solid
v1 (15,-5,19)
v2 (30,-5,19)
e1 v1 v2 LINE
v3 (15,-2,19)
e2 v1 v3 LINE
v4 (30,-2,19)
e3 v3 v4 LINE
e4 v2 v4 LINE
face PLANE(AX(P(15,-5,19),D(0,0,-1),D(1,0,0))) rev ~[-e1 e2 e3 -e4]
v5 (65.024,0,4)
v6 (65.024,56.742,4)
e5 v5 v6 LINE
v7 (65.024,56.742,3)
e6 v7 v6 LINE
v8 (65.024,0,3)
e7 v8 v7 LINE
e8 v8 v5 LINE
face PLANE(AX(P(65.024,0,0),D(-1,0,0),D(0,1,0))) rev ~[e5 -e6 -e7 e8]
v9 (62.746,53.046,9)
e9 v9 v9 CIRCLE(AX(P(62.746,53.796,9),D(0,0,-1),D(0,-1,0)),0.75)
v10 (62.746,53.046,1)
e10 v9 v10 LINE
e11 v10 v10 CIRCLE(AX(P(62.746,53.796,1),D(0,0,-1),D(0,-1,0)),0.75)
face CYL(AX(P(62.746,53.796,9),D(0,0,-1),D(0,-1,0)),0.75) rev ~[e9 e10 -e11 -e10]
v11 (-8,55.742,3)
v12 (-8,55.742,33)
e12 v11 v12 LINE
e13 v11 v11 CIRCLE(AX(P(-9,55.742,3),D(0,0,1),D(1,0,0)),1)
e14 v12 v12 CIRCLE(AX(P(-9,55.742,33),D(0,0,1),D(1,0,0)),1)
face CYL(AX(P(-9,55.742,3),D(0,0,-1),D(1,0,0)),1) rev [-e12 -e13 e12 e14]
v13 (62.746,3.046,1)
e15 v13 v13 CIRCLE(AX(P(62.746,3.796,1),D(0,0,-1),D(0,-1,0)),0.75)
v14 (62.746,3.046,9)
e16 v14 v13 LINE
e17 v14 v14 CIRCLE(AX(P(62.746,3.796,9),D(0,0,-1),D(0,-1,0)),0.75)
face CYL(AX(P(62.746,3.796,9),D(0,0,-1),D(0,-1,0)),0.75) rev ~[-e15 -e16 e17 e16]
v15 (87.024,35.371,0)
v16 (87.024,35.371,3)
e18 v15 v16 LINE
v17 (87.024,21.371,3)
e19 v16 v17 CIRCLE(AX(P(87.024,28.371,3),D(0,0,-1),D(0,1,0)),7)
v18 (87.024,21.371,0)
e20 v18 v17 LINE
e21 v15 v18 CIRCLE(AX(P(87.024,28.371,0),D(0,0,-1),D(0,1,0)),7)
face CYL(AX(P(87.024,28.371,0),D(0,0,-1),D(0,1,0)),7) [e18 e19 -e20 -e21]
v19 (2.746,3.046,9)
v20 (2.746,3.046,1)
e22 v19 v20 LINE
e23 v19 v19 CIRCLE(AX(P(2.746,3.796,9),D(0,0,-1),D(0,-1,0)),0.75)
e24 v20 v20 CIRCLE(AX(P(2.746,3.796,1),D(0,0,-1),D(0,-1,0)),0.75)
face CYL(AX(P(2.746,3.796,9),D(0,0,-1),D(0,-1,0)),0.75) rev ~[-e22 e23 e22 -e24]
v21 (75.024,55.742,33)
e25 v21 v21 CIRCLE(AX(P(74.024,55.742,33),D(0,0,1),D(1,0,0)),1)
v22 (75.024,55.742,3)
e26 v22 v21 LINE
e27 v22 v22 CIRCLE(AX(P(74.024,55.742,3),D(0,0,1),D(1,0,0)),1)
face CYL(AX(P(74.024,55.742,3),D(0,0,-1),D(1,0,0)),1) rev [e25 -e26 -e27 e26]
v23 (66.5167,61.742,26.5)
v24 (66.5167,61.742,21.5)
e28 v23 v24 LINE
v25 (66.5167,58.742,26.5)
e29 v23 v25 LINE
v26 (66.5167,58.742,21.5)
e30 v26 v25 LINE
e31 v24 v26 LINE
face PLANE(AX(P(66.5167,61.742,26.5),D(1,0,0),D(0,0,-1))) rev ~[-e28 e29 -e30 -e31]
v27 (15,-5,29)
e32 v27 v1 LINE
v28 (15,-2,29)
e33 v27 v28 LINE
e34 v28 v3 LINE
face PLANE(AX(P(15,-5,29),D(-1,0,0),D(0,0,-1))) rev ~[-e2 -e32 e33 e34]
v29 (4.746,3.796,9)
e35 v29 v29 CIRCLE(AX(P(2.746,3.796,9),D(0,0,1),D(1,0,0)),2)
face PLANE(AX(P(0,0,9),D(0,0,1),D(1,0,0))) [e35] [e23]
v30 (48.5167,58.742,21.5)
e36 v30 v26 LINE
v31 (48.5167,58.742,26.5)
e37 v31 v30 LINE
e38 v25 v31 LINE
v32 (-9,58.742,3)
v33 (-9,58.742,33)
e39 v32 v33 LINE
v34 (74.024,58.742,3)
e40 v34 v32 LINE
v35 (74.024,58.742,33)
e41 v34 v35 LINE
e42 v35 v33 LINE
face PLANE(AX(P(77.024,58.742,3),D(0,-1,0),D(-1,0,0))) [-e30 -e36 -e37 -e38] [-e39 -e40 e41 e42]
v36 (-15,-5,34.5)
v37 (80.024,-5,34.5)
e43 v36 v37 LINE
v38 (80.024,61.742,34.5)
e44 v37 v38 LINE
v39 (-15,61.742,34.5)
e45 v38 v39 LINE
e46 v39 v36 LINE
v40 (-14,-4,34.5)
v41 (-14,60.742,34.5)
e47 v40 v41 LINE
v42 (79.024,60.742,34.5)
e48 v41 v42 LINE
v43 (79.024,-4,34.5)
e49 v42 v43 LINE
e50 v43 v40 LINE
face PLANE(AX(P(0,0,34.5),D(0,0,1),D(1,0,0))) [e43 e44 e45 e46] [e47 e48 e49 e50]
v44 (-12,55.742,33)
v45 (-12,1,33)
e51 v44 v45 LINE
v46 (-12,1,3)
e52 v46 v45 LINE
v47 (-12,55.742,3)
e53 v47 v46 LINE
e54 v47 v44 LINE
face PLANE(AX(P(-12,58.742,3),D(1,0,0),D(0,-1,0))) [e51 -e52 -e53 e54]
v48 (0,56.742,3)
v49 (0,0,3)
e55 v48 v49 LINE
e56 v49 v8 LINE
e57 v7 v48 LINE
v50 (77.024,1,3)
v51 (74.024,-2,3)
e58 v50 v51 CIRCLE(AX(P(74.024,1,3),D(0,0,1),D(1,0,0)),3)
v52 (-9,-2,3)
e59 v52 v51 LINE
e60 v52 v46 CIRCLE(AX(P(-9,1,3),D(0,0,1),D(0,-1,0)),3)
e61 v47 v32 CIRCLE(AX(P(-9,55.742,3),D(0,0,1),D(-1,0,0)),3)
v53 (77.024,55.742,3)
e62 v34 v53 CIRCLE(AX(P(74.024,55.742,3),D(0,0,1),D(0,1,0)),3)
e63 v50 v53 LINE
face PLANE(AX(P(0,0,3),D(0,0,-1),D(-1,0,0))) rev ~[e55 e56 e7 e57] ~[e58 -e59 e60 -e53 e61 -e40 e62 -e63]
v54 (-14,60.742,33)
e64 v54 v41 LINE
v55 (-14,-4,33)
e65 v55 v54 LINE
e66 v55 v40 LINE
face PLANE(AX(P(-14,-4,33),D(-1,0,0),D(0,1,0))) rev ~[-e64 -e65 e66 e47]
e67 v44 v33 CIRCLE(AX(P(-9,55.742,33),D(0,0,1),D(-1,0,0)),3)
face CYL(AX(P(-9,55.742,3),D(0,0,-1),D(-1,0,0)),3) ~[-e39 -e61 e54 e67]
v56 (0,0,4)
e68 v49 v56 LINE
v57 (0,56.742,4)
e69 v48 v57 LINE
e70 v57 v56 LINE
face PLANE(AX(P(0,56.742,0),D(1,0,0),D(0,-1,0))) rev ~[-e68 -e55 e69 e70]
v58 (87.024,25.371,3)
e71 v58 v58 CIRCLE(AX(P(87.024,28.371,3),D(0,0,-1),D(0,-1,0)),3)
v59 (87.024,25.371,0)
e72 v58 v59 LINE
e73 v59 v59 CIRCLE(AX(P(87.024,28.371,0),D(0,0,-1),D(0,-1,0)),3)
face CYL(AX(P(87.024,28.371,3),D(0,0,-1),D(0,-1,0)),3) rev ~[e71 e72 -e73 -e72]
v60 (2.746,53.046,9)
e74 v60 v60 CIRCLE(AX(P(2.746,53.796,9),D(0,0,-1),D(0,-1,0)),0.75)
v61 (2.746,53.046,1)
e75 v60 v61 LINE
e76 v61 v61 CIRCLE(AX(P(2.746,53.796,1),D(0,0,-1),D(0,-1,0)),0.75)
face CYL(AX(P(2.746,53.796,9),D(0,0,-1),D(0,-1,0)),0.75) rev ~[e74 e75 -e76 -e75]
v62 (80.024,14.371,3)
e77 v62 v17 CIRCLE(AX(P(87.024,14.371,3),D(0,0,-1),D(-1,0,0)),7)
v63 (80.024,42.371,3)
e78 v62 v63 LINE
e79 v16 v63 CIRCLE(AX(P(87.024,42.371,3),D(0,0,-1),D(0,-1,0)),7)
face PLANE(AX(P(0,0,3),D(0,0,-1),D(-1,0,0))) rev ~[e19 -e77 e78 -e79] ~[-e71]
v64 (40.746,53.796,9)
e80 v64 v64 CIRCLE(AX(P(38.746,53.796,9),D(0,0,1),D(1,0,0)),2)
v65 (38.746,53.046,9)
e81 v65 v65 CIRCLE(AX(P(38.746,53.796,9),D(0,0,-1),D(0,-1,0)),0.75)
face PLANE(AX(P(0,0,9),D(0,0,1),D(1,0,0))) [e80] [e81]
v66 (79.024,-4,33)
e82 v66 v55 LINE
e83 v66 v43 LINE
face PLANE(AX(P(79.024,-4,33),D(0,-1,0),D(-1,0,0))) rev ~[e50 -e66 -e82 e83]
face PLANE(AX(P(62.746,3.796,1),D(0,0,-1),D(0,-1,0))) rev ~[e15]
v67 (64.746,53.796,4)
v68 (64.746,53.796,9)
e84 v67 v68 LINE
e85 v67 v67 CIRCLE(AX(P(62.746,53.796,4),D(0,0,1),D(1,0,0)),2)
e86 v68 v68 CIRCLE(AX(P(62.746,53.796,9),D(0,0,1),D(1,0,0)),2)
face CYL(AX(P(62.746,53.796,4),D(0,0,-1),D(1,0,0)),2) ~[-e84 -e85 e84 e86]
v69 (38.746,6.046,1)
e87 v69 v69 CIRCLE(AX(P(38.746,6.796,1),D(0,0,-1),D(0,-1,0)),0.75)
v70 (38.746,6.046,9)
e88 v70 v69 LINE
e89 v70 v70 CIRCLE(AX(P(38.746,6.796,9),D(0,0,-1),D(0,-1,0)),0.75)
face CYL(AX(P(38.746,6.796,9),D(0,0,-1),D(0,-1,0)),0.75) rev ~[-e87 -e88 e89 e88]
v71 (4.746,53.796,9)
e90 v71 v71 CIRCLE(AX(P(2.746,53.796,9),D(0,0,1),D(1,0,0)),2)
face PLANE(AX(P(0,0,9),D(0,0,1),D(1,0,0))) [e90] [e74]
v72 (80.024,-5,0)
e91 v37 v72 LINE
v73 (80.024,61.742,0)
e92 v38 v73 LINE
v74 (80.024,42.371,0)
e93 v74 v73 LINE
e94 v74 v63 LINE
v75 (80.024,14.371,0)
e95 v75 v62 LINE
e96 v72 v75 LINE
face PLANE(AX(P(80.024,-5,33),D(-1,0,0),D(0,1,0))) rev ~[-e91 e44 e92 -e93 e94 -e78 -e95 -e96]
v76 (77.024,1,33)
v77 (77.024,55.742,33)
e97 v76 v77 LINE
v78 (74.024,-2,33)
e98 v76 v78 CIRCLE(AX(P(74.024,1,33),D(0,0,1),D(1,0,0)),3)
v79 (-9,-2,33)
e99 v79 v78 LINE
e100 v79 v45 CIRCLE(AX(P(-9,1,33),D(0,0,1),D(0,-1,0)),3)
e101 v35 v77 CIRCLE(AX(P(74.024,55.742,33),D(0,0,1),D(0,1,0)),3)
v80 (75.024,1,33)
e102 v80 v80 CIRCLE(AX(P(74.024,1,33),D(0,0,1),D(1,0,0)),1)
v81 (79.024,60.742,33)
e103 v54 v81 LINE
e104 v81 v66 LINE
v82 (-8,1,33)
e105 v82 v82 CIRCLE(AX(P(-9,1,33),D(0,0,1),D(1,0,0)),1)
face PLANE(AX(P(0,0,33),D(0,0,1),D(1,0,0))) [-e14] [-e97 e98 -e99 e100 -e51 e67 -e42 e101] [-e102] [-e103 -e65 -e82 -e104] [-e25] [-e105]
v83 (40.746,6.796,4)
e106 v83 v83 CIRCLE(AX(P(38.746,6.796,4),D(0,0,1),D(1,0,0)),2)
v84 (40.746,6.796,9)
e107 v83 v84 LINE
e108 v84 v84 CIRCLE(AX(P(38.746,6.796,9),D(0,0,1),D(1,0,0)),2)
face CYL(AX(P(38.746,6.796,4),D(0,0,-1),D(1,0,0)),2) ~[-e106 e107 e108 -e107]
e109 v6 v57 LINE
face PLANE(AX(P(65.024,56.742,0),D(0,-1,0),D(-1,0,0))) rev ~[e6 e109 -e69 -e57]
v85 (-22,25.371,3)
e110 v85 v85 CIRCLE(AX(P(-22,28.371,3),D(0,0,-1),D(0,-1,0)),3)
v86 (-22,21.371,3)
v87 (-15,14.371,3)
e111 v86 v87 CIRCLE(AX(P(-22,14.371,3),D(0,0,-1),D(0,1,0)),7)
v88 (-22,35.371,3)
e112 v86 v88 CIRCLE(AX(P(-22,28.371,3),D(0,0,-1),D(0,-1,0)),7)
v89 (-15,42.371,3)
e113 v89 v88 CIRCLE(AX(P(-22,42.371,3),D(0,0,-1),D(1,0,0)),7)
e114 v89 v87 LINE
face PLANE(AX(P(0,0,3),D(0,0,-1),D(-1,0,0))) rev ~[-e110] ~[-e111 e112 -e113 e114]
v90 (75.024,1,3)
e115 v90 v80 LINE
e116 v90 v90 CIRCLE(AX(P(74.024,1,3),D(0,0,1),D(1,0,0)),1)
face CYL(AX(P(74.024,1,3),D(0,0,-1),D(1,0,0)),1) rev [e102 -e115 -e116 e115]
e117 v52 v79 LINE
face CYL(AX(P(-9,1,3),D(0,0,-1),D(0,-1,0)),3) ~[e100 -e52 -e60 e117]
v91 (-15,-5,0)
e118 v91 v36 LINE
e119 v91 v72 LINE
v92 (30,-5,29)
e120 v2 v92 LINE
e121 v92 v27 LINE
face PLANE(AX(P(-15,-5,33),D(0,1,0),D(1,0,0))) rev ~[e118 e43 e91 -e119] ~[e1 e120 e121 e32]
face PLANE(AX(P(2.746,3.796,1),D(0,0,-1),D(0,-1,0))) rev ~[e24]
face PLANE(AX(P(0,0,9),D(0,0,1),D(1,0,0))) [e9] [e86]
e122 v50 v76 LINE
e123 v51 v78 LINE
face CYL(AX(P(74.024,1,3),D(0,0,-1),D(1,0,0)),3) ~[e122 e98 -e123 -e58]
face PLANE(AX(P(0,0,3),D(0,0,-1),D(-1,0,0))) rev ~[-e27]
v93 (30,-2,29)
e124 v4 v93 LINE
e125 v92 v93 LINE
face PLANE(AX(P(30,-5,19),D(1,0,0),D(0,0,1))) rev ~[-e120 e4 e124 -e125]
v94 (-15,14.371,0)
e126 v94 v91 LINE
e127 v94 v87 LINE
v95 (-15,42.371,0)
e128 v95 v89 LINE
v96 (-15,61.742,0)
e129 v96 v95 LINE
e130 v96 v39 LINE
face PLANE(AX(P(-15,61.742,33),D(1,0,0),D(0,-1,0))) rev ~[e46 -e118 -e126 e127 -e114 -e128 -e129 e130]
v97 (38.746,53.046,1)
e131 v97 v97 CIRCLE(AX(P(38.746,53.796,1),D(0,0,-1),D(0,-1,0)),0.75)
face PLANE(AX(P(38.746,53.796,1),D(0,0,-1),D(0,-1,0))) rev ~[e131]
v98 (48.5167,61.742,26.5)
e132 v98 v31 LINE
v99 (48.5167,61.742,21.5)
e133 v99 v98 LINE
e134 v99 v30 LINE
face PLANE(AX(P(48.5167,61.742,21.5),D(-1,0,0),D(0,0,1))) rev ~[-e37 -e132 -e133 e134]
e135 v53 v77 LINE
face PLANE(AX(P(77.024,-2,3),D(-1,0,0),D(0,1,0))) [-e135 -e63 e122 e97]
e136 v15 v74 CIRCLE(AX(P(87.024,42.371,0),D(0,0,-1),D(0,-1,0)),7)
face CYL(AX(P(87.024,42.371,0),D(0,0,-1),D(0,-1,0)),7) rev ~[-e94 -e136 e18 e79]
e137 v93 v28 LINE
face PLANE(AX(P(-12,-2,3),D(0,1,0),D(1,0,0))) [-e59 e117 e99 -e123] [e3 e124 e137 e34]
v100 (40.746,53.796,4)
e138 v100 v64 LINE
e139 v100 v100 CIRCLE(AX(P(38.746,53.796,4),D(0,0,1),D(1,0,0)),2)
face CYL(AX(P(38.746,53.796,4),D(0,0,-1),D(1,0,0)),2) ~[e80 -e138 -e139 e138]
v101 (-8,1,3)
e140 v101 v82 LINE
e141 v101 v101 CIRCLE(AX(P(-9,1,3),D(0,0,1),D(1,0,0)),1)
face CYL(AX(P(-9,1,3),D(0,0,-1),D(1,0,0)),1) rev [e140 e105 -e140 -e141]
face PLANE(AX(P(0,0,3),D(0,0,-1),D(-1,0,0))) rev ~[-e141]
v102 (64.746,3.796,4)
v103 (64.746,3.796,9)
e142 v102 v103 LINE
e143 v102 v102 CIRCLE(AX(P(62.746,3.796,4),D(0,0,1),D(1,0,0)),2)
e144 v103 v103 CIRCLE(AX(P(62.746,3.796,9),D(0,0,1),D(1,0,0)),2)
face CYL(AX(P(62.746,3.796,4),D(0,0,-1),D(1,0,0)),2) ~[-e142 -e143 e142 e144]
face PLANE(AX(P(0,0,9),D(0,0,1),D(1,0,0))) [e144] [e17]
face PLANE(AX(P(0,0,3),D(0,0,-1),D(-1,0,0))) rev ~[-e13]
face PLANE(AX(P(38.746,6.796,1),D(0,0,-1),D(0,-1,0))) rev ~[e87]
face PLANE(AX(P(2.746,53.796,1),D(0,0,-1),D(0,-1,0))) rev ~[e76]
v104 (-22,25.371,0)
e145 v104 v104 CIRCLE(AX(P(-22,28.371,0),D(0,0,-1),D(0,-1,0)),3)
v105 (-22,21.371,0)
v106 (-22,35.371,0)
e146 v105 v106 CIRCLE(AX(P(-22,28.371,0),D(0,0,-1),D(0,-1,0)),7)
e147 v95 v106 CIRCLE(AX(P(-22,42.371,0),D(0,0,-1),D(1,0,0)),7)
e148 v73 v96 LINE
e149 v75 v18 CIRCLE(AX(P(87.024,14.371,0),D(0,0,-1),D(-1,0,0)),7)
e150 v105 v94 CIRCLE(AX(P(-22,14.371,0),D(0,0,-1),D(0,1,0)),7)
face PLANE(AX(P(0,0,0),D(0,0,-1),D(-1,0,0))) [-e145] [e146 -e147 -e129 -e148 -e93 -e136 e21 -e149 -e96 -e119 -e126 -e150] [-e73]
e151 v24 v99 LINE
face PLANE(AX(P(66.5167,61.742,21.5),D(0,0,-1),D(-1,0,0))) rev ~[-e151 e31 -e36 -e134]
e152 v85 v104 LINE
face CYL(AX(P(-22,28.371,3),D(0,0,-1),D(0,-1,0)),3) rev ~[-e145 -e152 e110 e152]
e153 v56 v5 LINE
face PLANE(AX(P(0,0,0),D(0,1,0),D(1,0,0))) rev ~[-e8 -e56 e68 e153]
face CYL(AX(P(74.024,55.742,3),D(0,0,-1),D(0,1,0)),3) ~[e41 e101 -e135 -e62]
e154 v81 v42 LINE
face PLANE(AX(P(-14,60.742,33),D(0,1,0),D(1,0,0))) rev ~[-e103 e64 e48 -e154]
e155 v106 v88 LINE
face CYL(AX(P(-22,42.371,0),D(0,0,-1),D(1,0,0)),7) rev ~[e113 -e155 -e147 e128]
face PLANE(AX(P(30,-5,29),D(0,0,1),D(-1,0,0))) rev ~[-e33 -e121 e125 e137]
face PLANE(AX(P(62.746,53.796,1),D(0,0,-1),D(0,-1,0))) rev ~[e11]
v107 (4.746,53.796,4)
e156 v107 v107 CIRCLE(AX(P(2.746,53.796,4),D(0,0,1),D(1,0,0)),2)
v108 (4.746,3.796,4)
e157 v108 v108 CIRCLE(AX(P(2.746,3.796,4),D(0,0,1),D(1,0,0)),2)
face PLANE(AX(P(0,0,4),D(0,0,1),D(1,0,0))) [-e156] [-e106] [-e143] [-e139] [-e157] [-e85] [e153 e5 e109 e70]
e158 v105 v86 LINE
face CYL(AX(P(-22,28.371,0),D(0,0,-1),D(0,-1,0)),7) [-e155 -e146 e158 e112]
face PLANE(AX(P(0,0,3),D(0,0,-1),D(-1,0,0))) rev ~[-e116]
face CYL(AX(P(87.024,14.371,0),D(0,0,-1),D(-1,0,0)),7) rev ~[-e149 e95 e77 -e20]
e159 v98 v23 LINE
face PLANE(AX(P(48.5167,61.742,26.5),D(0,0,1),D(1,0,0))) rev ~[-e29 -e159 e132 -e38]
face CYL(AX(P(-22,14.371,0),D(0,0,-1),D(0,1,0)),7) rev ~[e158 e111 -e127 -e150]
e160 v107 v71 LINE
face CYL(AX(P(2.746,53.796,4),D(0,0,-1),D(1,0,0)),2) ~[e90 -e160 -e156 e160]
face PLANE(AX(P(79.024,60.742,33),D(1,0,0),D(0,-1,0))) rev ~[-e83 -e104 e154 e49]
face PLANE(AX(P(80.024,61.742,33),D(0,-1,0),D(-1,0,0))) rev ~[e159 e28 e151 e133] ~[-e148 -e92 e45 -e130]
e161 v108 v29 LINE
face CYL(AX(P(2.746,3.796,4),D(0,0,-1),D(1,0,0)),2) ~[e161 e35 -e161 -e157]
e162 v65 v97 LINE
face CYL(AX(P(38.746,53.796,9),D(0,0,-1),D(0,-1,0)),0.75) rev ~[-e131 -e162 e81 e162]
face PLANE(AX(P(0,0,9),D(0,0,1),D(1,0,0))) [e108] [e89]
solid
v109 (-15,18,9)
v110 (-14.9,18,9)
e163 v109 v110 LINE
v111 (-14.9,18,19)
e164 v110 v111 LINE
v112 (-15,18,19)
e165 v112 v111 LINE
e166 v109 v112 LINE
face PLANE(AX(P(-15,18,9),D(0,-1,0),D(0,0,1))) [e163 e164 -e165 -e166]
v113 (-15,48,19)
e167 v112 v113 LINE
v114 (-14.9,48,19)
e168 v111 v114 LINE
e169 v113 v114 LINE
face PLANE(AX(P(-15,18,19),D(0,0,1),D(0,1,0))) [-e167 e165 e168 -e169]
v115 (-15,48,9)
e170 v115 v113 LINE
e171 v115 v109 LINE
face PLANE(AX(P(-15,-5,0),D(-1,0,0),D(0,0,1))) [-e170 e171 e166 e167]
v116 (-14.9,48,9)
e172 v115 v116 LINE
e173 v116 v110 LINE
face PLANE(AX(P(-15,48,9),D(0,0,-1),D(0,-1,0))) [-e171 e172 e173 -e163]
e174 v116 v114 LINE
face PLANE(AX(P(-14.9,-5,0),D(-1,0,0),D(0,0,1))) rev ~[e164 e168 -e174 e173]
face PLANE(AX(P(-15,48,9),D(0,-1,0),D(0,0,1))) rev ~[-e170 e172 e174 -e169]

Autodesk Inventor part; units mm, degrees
ref_plane "YZ Plane" through (0, 0, 0) normal (1, 0, 0) x (0, 1, 0)
ref_plane "XZ Plane" through (0, 0, 0) normal (0, 1, 0) x (-1, 0, 0)
ref_plane "XY Plane" through (0, 0, 0) normal (0, 0, 1) x (1, 0, 0)
sketch "Sketch1" plane through (0, 0, 0) normal (0, 0, 1) x (1, 0, 0)
  line L0 (0, 0) -> (65.024, 0)
  line L1 (65.024, 0) -> (65.024, 56.742)
  line L2 (65.024, 56.742) -> (0, 56.742)
  line L3 (0, 56.742) -> (0, 0)
  point P0 (2.746, 53.796)
  point P1 (62.746, 53.796)
  point P2 (62.746, 3.796)
  point P3 (2.746, 3.796)
  point P4 (38.746, 53.796)
  point P5 (38.746, 6.796)
  dimension "d0" = 56.742
  dimension "d1" = 65.024
  dimension "d2" = 53.796
  dimension "d3" = 2.746
  dimension "d4" = 62.746
  dimension "d5" = 3.796
  dimension "d6" = 38.746
  dimension "d7" = 6.796
  dimension "d8" = 53.796
  dimension "d9" = 38.746
extrude "Extrusion1" add sketch "Sketch1" along normal blind 4
sketch "Sketch2" plane through (0, 0, 4) normal (0, 0, 1) x (1, 0, 0)
  circle A0 centre (2.746, 53.796) radius 2
  circle A1 centre (62.746, 53.796) radius 2
  circle A2 centre (38.746, 53.796) radius 2
  circle A3 centre (38.746, 6.796) radius 2
  circle A4 centre (2.746, 3.796) radius 2
  circle A5 centre (62.746, 3.796) radius 2
  point P0 (0, 0)
  dimension "d12" = 4
  dimension "d13" = 4
  dimension "d14" = 4
  dimension "d15" = 4
  dimension "d16" = 4
  dimension "d17" = 4
extrude "Extrusion2" add sketch "Sketch2" along normal blind 5
sketch "Sketch3" plane through (2.746, 53.796, 9) normal (0, 0, 1) x (1, 0, 0)
  point P0 (-2.746, -53.796)
  point P1 (60, 0)
  point P2 (0, 0)
  point P3 (0, -50)
  point P4 (60, -50)
  point P5 (36, 0)
  point P6 (36, -47)
hole "Hole1" at (2.746, 53.796, 9) at (2.746, 3.796, 9) at (38.746, 53.796, 9) at (38.746, 6.796, 9) at (62.746, 53.796, 9) at (62.746, 3.796, 9) direction (0, 0, -1) diameter 1.5 depth 8
sketch "Sketch4" plane through (0, 0, 0) normal (0, 0, -1) x (-1, 0, 0)
  line L0 (-80.024, 61.742) -> (15, 61.742)
  line L1 (15, 61.742) -> (15, -5)
  line L2 (15, -5) -> (-80.024, -5)
  line L3 (-80.024, -5) -> (-80.024, 61.742)
  line L4 (-65.024, 0) -> (-65.024, 56.742) projected
  line L5 (-65.024, 0) -> (-65.024, 56.742) projected
  line L6 (0, 0) -> (-65.024, 0) projected
  line L7 (0, 56.742) -> (0, 0) projected
  line L8 (-65.024, 56.742) -> (0, 56.742) projected
  line L9 (-65.024, 56.742) -> (0, 56.742) projected
  line L10 (0, 0) -> (-65.024, 0) projected
  line L11 (0, 56.742) -> (0, 0) projected
  line L12 (15, 28.371) -> (-80.024, 28.371) construction
  arc A0 (15, 42.371) -> (22, 35.371) centre (22, 42.371) ccw
  arc A1 (22, 21.371) -> (15, 14.371) centre (22, 14.371) ccw
  arc A2 (22, 21.371) -> (22, 35.371) centre (22, 28.371) ccw
  line L13 (-32.512, 61.742) -> (-32.512, -5) construction
  arc A3 (-87.024, 35.371) -> (-80.024, 42.371) centre (-87.024, 42.371) ccw
  arc A4 (-80.024, 14.371) -> (-87.024, 21.371) centre (-87.024, 14.371) ccw
  arc A5 (-87.024, 35.371) -> (-87.024, 21.371) centre (-87.024, 28.371) ccw
  point P0 (-80.024, 14.371)
  point P1 (-80.024, 42.371)
  dimension "d35" = 15
  dimension "d36" = 5
  dimension "d37" = 5
  dimension "d38" = 15
  dimension "d73" = 14
  dimension "d81" = 7
extrude "Extrusion3" add sketch "Sketch4" against normal blind 3
sketch "Sketch5" plane through (0, 0, 3) normal (0, 0, 1) x (1, 0, 0)
  line L0 (-15, 61.742) -> (-15, -5) projected
  line L1 (80.024, 61.742) -> (-15, 61.742) projected
  line L2 (-15, -5) -> (80.024, -5) projected
  line L3 (80.024, -5) -> (80.024, 61.742) projected
  line L4 (-12, 58.742) -> (-12, -2)
  line L5 (-12, -2) -> (77.024, -2)
  line L6 (77.024, -2) -> (77.024, 58.742)
  line L7 (77.024, 58.742) -> (-12, 58.742)
  point P0 (0, 0)
  dimension "d29" = 3
extrude "Extrusion4" add sketch "Sketch5" along normal blind 30
sketch "Sketch6" plane through (0, 0, 33) normal (0, 0, 1) x (1, 0, 0)
  line L0 (-15, 61.742) -> (-15, -5) projected
  line L1 (80.024, 61.742) -> (-15, 61.742) projected
  line L2 (-15, -5) -> (80.024, -5) projected
  line L3 (80.024, -5) -> (80.024, 61.742) projected
  line L4 (-14, -4) -> (-14, 60.742)
  line L5 (-14, 60.742) -> (79.024, 60.742)
  line L6 (79.024, 60.742) -> (79.024, -4)
  line L7 (79.024, -4) -> (-14, -4)
  point P0 (0, 0)
  dimension "d32" = 1
extrude "Extrusion5" add sketch "Sketch6" along normal blind 1.5
sketch "Sketch7" plane through (-15, -5, 0) normal (-1, 0, 0) x (0, 0, 1)
  line L0 (9, 56.796) -> (9, 60.796) construction
  line L1 (9, 53) -> (9, 23)
  line L2 (3, 3) -> (33, 3) projected
  line L3 (9, 53) -> (19, 53)
  line L4 (9, 56.796) -> (9, 60.796) projected
  line L5 (9, 53) -> (19, 53) construction
  line L6 (9, 23) -> (19, 23)
  line L7 (0, 66.742) -> (0, 0) projected
  line L8 (9, 23) -> (19, 23) construction
  line L9 (19, 23) -> (19, 53)
  point P0 (0, 5)
  dimension "d39" = 20
  dimension "d40" = 50
  dimension "d41" = 10
  dimension "d42" = 0
  dimension "d43" = 10
  dimension "d44" = 0
extrude "Extrusion6" add sketch "Sketch7" against normal blind 0.1 separate body
sketch "Sketch8" plane through (-15, -5, 0) normal (0, -1, 0) x (1, 0, 0)
  line L0 (19.746, 9) -> (15.746, 9) construction
  line L1 (30, 19) -> (45, 19)
  line L2 (45, 19) -> (45, 29)
  line L3 (45, 29) -> (30, 29)
  line L4 (30, 29) -> (30, 19)
  point P0 (15, 0)
  point P1 (15, 0)
  dimension "d47" = 10
  dimension "d48" = 15
  dimension "d49" = 15
  dimension "d50" = 10
extrude "Extrusion7" cut sketch "Sketch8" against normal blind 3 bodies 1
sketch "Sketch9" plane through (80.024, -5, 0) normal (1, 0, 0) x (0, 0, -1)
  line L0 (-4, 5) -> (-4, 61.742) construction
  line L1 (-9, 53) -> (-9, 23) construction
  line L2 (-19, 23) -> (-19, 53) construction
  line L3 (-9, 12) -> (-19, 12)
  line L4 (-19, 12) -> (-19, 27)
  line L5 (-19, 27) -> (-9, 27)
  line L6 (-9, 27) -> (-9, 12)
  line L7 (-19, 39.742) -> (-9, 39.742)
  line L8 (-9, 39.742) -> (-9, 54.742)
  line L9 (-9, 54.742) -> (-19, 54.742)
  line L10 (-19, 54.742) -> (-19, 39.742)
  point P0 (0, 5)
  dimension "d53" = 15
  dimension "d54" = 7
  dimension "d55" = 7
  dimension "d56" = 15
extrude "Extrusion8" [suppressed]
sketch "Sketch10" plane through (0, 0, 4) normal (0, 0, 1) x (1, 0, 0)
  line L0 (-12, 58.742) -> (-12, -2) construction
  line L1 (-12, -2) -> (77.024, -2) construction
  line L2 (77.024, -2) -> (77.024, 58.742) construction
  line L3 (77.024, 58.742) -> (-12, 58.742) construction
  line L4 (65.024, 56.742) -> (0, 56.742) construction
  line L5 (65.024, 0) -> (65.024, 56.742) construction
  line L6 (0, 0) -> (65.024, 0) construction
  line L7 (0, 56.742) -> (0, 0) construction
  line L8 (-12, -2) -> (-12, 58.742) construction
  line L9 (-12, 28.371) -> (77.024, 28.371) construction
  line L10 (77.024, -2) -> (77.024, 58.742) construction
  line L11 (-12, 58.742) -> (77.024, 58.742) construction
  line L12 (32.512, 58.742) -> (32.512, -2) construction
  line L13 (-12, -2) -> (77.024, -2) construction
  point P0 (20.012, 40.871)
  point P1 (45.012, 40.871)
  point P2 (45.012, 15.871)
  point P3 (20.012, 15.871)
  dimension "d59" = 25
  dimension "d60" = 25
hole "Hole2" [suppressed]
sketch "Sketch11" plane through (0, 0, 3) normal (0, 0, 1) x (1, 0, 0)
  arc A0 (-22, 35.371) -> (-22, 21.371) centre (-22, 28.371) ccw projected
  arc A1 (87.024, 21.371) -> (87.024, 35.371) centre (87.024, 28.371) ccw projected
  point P0 (0, 0)
hole "Hole3" at (-22, 28.371, 3) at (87.024, 28.371, 3) direction (0, 0, -1) diameter 6 end through all bodies 1
sketch "Sketch12" plane through (0, 0, 3) normal (0, 0, 1) x (1, 0, 0)
  arc A0 (-12, 55.742) -> (-9, 58.742) centre (-9, 55.742) ccw
  line L0 (-12, 58.742) -> (77.024, 58.742) projected
  line L1 (-12, 58.742) -> (-12, -2) projected
  line L2 (-12, 55.742) -> (-12, 58.742)
  line L3 (77.024, 58.742) -> (-12, 58.742) projected
  line L4 (32.512, 58.742) -> (32.512, 0) construction
  line L5 (0, 0) -> (65.024, 0) projected
  line L6 (-12, -2) -> (-12, 58.742) projected
  line L7 (-12, 28.371) -> (77.024, 28.371) construction
  line L8 (77.024, 58.742) -> (77.024, -2) projected
  line L9 (-12, 58.742) -> (-9, 58.742)
  arc A1 (74.024, 58.742) -> (77.024, 55.742) centre (74.024, 55.742) ccw
  line L10 (77.024, 55.742) -> (77.024, 58.742)
  line L11 (77.024, 58.742) -> (74.024, 58.742)
  arc A2 (-9, -2) -> (-12, 1) centre (-9, 1) ccw
  line L12 (-12, 1) -> (-12, -2)
  line L13 (-12, -2) -> (-9, -2)
  arc A3 (77.024, 1) -> (74.024, -2) centre (74.024, 1) ccw
  line L14 (77.024, 1) -> (77.024, -2)
  line L15 (77.024, -2) -> (74.024, -2)
  circle A4 centre (-9, 55.742) radius 1
  circle A5 centre (74.024, 55.742) radius 1
  circle A6 centre (-9, 1) radius 1
  circle A7 centre (74.024, 1) radius 1
  point P0 (77.024, 55.742)
  point P1 (77.024, 1)
  point P2 (-12, 1)
  dimension "d82" = 3
  dimension "d83" = 2
extrude "Extrusion9" add sketch "Sketch12" along normal up to surface (30 mm away) bodies 1
sketch "Sketch13" plane through (-15, 61.742, 0) normal (0, 1, 0) x (1, 0, 0)
  line L0 (0, 0) -> (95.024, 0) projected
  line L1 (95.024, 0) -> (95.024, -34.5) projected
  line L2 (45, -29) -> (45, -19) construction
  line L3 (45, -24) -> (72.5167, -24) construction
  line L4 (81.5167, -21.5) -> (63.5167, -21.5)
  line L5 (63.5167, -21.5) -> (63.5167, -26.5)
  line L6 (63.5167, -26.5) -> (81.5167, -26.5)
  line L7 (81.5167, -26.5) -> (81.5167, -21.5)
  line L8 (81.5167, -21.5) -> (63.5167, -26.5) construction
  line L9 (63.5167, -21.5) -> (81.5167, -26.5) construction
  point P0 (15, 0)
  dimension "d88" = 22.5073
  dimension "d89" = 18
  dimension "d90" = 5
extrude "Extrusion10" cut sketch "Sketch13" against normal blind 10 bodies 1
sketch "Sketch14" plane through (0, 0, 34.5) normal (0, 0, 1) x (1, 0, 0)
  line L0 (-14, -4) -> (79.024, -4) projected
  line L1 (79.024, -4) -> (79.024, 60.742) projected
  line L2 (79.024, 60.742) -> (-14, 60.742) projected
  line L3 (-14, 60.742) -> (-14, -4) projected
  line L4 (-15, -5) -> (-15, 61.742) projected
  line L5 (-15, 61.742) -> (80.024, 61.742) projected
  line L6 (80.024, 61.742) -> (80.024, -5) projected
  line L7 (80.024, -5) -> (-15, -5) projected
  point P0 (0, 0)
sketch "Sketch15" plane through (0, 0, 33) normal (0, 0, 1) x (1, 0, 0)
  circle A0 centre (-9, 1) radius 1 projected
  circle A1 centre (74.024, 55.742) radius 1 projected
  circle A2 centre (-9, 55.742) radius 1 projected
  arc A3 (77.024, 1) -> (74.024, -2) centre (74.024, 1) ccw projected
  line L0 (77.024, 1) -> (77.024, 55.742) projected
  arc A4 (74.024, 58.742) -> (77.024, 55.742) centre (74.024, 55.742) ccw projected
  line L1 (74.024, 58.742) -> (-9, 58.742) projected
  arc A5 (-12, 55.742) -> (-9, 58.742) centre (-9, 55.742) ccw projected
  line L2 (-12, 55.742) -> (-12, 1) projected
  arc A6 (-9, -2) -> (-12, 1) centre (-9, 1) ccw projected
  line L3 (-9, -2) -> (74.024, -2) projected
  circle A7 centre (74.024, 1) radius 1 projected
  line L4 (-14, -4) -> (79.024, -4) projected
  line L5 (79.024, -4) -> (79.024, 60.742) projected
  line L6 (79.024, 60.742) -> (-14, 60.742) projected
  line L7 (-14, 60.742) -> (-14, -4) projected
  line L8 (-15, -5) -> (-15, 61.742) projected
  line L9 (-15, 61.742) -> (80.024, 61.742) projected
  line L10 (80.024, 61.742) -> (80.024, -5) projected
  line L11 (80.024, -5) -> (-15, -5) projected
  point P0 (0, 0)
equation "\"d13\" = d12"
equation "\"d14\" = d12"
equation "\"d15\" = d12"
equation "\"d16\" = d12"
equation "\"d17\" = d12"
equation "\"d73\" = 2 * d81"
properties part number "esp_housing_dsrm"
